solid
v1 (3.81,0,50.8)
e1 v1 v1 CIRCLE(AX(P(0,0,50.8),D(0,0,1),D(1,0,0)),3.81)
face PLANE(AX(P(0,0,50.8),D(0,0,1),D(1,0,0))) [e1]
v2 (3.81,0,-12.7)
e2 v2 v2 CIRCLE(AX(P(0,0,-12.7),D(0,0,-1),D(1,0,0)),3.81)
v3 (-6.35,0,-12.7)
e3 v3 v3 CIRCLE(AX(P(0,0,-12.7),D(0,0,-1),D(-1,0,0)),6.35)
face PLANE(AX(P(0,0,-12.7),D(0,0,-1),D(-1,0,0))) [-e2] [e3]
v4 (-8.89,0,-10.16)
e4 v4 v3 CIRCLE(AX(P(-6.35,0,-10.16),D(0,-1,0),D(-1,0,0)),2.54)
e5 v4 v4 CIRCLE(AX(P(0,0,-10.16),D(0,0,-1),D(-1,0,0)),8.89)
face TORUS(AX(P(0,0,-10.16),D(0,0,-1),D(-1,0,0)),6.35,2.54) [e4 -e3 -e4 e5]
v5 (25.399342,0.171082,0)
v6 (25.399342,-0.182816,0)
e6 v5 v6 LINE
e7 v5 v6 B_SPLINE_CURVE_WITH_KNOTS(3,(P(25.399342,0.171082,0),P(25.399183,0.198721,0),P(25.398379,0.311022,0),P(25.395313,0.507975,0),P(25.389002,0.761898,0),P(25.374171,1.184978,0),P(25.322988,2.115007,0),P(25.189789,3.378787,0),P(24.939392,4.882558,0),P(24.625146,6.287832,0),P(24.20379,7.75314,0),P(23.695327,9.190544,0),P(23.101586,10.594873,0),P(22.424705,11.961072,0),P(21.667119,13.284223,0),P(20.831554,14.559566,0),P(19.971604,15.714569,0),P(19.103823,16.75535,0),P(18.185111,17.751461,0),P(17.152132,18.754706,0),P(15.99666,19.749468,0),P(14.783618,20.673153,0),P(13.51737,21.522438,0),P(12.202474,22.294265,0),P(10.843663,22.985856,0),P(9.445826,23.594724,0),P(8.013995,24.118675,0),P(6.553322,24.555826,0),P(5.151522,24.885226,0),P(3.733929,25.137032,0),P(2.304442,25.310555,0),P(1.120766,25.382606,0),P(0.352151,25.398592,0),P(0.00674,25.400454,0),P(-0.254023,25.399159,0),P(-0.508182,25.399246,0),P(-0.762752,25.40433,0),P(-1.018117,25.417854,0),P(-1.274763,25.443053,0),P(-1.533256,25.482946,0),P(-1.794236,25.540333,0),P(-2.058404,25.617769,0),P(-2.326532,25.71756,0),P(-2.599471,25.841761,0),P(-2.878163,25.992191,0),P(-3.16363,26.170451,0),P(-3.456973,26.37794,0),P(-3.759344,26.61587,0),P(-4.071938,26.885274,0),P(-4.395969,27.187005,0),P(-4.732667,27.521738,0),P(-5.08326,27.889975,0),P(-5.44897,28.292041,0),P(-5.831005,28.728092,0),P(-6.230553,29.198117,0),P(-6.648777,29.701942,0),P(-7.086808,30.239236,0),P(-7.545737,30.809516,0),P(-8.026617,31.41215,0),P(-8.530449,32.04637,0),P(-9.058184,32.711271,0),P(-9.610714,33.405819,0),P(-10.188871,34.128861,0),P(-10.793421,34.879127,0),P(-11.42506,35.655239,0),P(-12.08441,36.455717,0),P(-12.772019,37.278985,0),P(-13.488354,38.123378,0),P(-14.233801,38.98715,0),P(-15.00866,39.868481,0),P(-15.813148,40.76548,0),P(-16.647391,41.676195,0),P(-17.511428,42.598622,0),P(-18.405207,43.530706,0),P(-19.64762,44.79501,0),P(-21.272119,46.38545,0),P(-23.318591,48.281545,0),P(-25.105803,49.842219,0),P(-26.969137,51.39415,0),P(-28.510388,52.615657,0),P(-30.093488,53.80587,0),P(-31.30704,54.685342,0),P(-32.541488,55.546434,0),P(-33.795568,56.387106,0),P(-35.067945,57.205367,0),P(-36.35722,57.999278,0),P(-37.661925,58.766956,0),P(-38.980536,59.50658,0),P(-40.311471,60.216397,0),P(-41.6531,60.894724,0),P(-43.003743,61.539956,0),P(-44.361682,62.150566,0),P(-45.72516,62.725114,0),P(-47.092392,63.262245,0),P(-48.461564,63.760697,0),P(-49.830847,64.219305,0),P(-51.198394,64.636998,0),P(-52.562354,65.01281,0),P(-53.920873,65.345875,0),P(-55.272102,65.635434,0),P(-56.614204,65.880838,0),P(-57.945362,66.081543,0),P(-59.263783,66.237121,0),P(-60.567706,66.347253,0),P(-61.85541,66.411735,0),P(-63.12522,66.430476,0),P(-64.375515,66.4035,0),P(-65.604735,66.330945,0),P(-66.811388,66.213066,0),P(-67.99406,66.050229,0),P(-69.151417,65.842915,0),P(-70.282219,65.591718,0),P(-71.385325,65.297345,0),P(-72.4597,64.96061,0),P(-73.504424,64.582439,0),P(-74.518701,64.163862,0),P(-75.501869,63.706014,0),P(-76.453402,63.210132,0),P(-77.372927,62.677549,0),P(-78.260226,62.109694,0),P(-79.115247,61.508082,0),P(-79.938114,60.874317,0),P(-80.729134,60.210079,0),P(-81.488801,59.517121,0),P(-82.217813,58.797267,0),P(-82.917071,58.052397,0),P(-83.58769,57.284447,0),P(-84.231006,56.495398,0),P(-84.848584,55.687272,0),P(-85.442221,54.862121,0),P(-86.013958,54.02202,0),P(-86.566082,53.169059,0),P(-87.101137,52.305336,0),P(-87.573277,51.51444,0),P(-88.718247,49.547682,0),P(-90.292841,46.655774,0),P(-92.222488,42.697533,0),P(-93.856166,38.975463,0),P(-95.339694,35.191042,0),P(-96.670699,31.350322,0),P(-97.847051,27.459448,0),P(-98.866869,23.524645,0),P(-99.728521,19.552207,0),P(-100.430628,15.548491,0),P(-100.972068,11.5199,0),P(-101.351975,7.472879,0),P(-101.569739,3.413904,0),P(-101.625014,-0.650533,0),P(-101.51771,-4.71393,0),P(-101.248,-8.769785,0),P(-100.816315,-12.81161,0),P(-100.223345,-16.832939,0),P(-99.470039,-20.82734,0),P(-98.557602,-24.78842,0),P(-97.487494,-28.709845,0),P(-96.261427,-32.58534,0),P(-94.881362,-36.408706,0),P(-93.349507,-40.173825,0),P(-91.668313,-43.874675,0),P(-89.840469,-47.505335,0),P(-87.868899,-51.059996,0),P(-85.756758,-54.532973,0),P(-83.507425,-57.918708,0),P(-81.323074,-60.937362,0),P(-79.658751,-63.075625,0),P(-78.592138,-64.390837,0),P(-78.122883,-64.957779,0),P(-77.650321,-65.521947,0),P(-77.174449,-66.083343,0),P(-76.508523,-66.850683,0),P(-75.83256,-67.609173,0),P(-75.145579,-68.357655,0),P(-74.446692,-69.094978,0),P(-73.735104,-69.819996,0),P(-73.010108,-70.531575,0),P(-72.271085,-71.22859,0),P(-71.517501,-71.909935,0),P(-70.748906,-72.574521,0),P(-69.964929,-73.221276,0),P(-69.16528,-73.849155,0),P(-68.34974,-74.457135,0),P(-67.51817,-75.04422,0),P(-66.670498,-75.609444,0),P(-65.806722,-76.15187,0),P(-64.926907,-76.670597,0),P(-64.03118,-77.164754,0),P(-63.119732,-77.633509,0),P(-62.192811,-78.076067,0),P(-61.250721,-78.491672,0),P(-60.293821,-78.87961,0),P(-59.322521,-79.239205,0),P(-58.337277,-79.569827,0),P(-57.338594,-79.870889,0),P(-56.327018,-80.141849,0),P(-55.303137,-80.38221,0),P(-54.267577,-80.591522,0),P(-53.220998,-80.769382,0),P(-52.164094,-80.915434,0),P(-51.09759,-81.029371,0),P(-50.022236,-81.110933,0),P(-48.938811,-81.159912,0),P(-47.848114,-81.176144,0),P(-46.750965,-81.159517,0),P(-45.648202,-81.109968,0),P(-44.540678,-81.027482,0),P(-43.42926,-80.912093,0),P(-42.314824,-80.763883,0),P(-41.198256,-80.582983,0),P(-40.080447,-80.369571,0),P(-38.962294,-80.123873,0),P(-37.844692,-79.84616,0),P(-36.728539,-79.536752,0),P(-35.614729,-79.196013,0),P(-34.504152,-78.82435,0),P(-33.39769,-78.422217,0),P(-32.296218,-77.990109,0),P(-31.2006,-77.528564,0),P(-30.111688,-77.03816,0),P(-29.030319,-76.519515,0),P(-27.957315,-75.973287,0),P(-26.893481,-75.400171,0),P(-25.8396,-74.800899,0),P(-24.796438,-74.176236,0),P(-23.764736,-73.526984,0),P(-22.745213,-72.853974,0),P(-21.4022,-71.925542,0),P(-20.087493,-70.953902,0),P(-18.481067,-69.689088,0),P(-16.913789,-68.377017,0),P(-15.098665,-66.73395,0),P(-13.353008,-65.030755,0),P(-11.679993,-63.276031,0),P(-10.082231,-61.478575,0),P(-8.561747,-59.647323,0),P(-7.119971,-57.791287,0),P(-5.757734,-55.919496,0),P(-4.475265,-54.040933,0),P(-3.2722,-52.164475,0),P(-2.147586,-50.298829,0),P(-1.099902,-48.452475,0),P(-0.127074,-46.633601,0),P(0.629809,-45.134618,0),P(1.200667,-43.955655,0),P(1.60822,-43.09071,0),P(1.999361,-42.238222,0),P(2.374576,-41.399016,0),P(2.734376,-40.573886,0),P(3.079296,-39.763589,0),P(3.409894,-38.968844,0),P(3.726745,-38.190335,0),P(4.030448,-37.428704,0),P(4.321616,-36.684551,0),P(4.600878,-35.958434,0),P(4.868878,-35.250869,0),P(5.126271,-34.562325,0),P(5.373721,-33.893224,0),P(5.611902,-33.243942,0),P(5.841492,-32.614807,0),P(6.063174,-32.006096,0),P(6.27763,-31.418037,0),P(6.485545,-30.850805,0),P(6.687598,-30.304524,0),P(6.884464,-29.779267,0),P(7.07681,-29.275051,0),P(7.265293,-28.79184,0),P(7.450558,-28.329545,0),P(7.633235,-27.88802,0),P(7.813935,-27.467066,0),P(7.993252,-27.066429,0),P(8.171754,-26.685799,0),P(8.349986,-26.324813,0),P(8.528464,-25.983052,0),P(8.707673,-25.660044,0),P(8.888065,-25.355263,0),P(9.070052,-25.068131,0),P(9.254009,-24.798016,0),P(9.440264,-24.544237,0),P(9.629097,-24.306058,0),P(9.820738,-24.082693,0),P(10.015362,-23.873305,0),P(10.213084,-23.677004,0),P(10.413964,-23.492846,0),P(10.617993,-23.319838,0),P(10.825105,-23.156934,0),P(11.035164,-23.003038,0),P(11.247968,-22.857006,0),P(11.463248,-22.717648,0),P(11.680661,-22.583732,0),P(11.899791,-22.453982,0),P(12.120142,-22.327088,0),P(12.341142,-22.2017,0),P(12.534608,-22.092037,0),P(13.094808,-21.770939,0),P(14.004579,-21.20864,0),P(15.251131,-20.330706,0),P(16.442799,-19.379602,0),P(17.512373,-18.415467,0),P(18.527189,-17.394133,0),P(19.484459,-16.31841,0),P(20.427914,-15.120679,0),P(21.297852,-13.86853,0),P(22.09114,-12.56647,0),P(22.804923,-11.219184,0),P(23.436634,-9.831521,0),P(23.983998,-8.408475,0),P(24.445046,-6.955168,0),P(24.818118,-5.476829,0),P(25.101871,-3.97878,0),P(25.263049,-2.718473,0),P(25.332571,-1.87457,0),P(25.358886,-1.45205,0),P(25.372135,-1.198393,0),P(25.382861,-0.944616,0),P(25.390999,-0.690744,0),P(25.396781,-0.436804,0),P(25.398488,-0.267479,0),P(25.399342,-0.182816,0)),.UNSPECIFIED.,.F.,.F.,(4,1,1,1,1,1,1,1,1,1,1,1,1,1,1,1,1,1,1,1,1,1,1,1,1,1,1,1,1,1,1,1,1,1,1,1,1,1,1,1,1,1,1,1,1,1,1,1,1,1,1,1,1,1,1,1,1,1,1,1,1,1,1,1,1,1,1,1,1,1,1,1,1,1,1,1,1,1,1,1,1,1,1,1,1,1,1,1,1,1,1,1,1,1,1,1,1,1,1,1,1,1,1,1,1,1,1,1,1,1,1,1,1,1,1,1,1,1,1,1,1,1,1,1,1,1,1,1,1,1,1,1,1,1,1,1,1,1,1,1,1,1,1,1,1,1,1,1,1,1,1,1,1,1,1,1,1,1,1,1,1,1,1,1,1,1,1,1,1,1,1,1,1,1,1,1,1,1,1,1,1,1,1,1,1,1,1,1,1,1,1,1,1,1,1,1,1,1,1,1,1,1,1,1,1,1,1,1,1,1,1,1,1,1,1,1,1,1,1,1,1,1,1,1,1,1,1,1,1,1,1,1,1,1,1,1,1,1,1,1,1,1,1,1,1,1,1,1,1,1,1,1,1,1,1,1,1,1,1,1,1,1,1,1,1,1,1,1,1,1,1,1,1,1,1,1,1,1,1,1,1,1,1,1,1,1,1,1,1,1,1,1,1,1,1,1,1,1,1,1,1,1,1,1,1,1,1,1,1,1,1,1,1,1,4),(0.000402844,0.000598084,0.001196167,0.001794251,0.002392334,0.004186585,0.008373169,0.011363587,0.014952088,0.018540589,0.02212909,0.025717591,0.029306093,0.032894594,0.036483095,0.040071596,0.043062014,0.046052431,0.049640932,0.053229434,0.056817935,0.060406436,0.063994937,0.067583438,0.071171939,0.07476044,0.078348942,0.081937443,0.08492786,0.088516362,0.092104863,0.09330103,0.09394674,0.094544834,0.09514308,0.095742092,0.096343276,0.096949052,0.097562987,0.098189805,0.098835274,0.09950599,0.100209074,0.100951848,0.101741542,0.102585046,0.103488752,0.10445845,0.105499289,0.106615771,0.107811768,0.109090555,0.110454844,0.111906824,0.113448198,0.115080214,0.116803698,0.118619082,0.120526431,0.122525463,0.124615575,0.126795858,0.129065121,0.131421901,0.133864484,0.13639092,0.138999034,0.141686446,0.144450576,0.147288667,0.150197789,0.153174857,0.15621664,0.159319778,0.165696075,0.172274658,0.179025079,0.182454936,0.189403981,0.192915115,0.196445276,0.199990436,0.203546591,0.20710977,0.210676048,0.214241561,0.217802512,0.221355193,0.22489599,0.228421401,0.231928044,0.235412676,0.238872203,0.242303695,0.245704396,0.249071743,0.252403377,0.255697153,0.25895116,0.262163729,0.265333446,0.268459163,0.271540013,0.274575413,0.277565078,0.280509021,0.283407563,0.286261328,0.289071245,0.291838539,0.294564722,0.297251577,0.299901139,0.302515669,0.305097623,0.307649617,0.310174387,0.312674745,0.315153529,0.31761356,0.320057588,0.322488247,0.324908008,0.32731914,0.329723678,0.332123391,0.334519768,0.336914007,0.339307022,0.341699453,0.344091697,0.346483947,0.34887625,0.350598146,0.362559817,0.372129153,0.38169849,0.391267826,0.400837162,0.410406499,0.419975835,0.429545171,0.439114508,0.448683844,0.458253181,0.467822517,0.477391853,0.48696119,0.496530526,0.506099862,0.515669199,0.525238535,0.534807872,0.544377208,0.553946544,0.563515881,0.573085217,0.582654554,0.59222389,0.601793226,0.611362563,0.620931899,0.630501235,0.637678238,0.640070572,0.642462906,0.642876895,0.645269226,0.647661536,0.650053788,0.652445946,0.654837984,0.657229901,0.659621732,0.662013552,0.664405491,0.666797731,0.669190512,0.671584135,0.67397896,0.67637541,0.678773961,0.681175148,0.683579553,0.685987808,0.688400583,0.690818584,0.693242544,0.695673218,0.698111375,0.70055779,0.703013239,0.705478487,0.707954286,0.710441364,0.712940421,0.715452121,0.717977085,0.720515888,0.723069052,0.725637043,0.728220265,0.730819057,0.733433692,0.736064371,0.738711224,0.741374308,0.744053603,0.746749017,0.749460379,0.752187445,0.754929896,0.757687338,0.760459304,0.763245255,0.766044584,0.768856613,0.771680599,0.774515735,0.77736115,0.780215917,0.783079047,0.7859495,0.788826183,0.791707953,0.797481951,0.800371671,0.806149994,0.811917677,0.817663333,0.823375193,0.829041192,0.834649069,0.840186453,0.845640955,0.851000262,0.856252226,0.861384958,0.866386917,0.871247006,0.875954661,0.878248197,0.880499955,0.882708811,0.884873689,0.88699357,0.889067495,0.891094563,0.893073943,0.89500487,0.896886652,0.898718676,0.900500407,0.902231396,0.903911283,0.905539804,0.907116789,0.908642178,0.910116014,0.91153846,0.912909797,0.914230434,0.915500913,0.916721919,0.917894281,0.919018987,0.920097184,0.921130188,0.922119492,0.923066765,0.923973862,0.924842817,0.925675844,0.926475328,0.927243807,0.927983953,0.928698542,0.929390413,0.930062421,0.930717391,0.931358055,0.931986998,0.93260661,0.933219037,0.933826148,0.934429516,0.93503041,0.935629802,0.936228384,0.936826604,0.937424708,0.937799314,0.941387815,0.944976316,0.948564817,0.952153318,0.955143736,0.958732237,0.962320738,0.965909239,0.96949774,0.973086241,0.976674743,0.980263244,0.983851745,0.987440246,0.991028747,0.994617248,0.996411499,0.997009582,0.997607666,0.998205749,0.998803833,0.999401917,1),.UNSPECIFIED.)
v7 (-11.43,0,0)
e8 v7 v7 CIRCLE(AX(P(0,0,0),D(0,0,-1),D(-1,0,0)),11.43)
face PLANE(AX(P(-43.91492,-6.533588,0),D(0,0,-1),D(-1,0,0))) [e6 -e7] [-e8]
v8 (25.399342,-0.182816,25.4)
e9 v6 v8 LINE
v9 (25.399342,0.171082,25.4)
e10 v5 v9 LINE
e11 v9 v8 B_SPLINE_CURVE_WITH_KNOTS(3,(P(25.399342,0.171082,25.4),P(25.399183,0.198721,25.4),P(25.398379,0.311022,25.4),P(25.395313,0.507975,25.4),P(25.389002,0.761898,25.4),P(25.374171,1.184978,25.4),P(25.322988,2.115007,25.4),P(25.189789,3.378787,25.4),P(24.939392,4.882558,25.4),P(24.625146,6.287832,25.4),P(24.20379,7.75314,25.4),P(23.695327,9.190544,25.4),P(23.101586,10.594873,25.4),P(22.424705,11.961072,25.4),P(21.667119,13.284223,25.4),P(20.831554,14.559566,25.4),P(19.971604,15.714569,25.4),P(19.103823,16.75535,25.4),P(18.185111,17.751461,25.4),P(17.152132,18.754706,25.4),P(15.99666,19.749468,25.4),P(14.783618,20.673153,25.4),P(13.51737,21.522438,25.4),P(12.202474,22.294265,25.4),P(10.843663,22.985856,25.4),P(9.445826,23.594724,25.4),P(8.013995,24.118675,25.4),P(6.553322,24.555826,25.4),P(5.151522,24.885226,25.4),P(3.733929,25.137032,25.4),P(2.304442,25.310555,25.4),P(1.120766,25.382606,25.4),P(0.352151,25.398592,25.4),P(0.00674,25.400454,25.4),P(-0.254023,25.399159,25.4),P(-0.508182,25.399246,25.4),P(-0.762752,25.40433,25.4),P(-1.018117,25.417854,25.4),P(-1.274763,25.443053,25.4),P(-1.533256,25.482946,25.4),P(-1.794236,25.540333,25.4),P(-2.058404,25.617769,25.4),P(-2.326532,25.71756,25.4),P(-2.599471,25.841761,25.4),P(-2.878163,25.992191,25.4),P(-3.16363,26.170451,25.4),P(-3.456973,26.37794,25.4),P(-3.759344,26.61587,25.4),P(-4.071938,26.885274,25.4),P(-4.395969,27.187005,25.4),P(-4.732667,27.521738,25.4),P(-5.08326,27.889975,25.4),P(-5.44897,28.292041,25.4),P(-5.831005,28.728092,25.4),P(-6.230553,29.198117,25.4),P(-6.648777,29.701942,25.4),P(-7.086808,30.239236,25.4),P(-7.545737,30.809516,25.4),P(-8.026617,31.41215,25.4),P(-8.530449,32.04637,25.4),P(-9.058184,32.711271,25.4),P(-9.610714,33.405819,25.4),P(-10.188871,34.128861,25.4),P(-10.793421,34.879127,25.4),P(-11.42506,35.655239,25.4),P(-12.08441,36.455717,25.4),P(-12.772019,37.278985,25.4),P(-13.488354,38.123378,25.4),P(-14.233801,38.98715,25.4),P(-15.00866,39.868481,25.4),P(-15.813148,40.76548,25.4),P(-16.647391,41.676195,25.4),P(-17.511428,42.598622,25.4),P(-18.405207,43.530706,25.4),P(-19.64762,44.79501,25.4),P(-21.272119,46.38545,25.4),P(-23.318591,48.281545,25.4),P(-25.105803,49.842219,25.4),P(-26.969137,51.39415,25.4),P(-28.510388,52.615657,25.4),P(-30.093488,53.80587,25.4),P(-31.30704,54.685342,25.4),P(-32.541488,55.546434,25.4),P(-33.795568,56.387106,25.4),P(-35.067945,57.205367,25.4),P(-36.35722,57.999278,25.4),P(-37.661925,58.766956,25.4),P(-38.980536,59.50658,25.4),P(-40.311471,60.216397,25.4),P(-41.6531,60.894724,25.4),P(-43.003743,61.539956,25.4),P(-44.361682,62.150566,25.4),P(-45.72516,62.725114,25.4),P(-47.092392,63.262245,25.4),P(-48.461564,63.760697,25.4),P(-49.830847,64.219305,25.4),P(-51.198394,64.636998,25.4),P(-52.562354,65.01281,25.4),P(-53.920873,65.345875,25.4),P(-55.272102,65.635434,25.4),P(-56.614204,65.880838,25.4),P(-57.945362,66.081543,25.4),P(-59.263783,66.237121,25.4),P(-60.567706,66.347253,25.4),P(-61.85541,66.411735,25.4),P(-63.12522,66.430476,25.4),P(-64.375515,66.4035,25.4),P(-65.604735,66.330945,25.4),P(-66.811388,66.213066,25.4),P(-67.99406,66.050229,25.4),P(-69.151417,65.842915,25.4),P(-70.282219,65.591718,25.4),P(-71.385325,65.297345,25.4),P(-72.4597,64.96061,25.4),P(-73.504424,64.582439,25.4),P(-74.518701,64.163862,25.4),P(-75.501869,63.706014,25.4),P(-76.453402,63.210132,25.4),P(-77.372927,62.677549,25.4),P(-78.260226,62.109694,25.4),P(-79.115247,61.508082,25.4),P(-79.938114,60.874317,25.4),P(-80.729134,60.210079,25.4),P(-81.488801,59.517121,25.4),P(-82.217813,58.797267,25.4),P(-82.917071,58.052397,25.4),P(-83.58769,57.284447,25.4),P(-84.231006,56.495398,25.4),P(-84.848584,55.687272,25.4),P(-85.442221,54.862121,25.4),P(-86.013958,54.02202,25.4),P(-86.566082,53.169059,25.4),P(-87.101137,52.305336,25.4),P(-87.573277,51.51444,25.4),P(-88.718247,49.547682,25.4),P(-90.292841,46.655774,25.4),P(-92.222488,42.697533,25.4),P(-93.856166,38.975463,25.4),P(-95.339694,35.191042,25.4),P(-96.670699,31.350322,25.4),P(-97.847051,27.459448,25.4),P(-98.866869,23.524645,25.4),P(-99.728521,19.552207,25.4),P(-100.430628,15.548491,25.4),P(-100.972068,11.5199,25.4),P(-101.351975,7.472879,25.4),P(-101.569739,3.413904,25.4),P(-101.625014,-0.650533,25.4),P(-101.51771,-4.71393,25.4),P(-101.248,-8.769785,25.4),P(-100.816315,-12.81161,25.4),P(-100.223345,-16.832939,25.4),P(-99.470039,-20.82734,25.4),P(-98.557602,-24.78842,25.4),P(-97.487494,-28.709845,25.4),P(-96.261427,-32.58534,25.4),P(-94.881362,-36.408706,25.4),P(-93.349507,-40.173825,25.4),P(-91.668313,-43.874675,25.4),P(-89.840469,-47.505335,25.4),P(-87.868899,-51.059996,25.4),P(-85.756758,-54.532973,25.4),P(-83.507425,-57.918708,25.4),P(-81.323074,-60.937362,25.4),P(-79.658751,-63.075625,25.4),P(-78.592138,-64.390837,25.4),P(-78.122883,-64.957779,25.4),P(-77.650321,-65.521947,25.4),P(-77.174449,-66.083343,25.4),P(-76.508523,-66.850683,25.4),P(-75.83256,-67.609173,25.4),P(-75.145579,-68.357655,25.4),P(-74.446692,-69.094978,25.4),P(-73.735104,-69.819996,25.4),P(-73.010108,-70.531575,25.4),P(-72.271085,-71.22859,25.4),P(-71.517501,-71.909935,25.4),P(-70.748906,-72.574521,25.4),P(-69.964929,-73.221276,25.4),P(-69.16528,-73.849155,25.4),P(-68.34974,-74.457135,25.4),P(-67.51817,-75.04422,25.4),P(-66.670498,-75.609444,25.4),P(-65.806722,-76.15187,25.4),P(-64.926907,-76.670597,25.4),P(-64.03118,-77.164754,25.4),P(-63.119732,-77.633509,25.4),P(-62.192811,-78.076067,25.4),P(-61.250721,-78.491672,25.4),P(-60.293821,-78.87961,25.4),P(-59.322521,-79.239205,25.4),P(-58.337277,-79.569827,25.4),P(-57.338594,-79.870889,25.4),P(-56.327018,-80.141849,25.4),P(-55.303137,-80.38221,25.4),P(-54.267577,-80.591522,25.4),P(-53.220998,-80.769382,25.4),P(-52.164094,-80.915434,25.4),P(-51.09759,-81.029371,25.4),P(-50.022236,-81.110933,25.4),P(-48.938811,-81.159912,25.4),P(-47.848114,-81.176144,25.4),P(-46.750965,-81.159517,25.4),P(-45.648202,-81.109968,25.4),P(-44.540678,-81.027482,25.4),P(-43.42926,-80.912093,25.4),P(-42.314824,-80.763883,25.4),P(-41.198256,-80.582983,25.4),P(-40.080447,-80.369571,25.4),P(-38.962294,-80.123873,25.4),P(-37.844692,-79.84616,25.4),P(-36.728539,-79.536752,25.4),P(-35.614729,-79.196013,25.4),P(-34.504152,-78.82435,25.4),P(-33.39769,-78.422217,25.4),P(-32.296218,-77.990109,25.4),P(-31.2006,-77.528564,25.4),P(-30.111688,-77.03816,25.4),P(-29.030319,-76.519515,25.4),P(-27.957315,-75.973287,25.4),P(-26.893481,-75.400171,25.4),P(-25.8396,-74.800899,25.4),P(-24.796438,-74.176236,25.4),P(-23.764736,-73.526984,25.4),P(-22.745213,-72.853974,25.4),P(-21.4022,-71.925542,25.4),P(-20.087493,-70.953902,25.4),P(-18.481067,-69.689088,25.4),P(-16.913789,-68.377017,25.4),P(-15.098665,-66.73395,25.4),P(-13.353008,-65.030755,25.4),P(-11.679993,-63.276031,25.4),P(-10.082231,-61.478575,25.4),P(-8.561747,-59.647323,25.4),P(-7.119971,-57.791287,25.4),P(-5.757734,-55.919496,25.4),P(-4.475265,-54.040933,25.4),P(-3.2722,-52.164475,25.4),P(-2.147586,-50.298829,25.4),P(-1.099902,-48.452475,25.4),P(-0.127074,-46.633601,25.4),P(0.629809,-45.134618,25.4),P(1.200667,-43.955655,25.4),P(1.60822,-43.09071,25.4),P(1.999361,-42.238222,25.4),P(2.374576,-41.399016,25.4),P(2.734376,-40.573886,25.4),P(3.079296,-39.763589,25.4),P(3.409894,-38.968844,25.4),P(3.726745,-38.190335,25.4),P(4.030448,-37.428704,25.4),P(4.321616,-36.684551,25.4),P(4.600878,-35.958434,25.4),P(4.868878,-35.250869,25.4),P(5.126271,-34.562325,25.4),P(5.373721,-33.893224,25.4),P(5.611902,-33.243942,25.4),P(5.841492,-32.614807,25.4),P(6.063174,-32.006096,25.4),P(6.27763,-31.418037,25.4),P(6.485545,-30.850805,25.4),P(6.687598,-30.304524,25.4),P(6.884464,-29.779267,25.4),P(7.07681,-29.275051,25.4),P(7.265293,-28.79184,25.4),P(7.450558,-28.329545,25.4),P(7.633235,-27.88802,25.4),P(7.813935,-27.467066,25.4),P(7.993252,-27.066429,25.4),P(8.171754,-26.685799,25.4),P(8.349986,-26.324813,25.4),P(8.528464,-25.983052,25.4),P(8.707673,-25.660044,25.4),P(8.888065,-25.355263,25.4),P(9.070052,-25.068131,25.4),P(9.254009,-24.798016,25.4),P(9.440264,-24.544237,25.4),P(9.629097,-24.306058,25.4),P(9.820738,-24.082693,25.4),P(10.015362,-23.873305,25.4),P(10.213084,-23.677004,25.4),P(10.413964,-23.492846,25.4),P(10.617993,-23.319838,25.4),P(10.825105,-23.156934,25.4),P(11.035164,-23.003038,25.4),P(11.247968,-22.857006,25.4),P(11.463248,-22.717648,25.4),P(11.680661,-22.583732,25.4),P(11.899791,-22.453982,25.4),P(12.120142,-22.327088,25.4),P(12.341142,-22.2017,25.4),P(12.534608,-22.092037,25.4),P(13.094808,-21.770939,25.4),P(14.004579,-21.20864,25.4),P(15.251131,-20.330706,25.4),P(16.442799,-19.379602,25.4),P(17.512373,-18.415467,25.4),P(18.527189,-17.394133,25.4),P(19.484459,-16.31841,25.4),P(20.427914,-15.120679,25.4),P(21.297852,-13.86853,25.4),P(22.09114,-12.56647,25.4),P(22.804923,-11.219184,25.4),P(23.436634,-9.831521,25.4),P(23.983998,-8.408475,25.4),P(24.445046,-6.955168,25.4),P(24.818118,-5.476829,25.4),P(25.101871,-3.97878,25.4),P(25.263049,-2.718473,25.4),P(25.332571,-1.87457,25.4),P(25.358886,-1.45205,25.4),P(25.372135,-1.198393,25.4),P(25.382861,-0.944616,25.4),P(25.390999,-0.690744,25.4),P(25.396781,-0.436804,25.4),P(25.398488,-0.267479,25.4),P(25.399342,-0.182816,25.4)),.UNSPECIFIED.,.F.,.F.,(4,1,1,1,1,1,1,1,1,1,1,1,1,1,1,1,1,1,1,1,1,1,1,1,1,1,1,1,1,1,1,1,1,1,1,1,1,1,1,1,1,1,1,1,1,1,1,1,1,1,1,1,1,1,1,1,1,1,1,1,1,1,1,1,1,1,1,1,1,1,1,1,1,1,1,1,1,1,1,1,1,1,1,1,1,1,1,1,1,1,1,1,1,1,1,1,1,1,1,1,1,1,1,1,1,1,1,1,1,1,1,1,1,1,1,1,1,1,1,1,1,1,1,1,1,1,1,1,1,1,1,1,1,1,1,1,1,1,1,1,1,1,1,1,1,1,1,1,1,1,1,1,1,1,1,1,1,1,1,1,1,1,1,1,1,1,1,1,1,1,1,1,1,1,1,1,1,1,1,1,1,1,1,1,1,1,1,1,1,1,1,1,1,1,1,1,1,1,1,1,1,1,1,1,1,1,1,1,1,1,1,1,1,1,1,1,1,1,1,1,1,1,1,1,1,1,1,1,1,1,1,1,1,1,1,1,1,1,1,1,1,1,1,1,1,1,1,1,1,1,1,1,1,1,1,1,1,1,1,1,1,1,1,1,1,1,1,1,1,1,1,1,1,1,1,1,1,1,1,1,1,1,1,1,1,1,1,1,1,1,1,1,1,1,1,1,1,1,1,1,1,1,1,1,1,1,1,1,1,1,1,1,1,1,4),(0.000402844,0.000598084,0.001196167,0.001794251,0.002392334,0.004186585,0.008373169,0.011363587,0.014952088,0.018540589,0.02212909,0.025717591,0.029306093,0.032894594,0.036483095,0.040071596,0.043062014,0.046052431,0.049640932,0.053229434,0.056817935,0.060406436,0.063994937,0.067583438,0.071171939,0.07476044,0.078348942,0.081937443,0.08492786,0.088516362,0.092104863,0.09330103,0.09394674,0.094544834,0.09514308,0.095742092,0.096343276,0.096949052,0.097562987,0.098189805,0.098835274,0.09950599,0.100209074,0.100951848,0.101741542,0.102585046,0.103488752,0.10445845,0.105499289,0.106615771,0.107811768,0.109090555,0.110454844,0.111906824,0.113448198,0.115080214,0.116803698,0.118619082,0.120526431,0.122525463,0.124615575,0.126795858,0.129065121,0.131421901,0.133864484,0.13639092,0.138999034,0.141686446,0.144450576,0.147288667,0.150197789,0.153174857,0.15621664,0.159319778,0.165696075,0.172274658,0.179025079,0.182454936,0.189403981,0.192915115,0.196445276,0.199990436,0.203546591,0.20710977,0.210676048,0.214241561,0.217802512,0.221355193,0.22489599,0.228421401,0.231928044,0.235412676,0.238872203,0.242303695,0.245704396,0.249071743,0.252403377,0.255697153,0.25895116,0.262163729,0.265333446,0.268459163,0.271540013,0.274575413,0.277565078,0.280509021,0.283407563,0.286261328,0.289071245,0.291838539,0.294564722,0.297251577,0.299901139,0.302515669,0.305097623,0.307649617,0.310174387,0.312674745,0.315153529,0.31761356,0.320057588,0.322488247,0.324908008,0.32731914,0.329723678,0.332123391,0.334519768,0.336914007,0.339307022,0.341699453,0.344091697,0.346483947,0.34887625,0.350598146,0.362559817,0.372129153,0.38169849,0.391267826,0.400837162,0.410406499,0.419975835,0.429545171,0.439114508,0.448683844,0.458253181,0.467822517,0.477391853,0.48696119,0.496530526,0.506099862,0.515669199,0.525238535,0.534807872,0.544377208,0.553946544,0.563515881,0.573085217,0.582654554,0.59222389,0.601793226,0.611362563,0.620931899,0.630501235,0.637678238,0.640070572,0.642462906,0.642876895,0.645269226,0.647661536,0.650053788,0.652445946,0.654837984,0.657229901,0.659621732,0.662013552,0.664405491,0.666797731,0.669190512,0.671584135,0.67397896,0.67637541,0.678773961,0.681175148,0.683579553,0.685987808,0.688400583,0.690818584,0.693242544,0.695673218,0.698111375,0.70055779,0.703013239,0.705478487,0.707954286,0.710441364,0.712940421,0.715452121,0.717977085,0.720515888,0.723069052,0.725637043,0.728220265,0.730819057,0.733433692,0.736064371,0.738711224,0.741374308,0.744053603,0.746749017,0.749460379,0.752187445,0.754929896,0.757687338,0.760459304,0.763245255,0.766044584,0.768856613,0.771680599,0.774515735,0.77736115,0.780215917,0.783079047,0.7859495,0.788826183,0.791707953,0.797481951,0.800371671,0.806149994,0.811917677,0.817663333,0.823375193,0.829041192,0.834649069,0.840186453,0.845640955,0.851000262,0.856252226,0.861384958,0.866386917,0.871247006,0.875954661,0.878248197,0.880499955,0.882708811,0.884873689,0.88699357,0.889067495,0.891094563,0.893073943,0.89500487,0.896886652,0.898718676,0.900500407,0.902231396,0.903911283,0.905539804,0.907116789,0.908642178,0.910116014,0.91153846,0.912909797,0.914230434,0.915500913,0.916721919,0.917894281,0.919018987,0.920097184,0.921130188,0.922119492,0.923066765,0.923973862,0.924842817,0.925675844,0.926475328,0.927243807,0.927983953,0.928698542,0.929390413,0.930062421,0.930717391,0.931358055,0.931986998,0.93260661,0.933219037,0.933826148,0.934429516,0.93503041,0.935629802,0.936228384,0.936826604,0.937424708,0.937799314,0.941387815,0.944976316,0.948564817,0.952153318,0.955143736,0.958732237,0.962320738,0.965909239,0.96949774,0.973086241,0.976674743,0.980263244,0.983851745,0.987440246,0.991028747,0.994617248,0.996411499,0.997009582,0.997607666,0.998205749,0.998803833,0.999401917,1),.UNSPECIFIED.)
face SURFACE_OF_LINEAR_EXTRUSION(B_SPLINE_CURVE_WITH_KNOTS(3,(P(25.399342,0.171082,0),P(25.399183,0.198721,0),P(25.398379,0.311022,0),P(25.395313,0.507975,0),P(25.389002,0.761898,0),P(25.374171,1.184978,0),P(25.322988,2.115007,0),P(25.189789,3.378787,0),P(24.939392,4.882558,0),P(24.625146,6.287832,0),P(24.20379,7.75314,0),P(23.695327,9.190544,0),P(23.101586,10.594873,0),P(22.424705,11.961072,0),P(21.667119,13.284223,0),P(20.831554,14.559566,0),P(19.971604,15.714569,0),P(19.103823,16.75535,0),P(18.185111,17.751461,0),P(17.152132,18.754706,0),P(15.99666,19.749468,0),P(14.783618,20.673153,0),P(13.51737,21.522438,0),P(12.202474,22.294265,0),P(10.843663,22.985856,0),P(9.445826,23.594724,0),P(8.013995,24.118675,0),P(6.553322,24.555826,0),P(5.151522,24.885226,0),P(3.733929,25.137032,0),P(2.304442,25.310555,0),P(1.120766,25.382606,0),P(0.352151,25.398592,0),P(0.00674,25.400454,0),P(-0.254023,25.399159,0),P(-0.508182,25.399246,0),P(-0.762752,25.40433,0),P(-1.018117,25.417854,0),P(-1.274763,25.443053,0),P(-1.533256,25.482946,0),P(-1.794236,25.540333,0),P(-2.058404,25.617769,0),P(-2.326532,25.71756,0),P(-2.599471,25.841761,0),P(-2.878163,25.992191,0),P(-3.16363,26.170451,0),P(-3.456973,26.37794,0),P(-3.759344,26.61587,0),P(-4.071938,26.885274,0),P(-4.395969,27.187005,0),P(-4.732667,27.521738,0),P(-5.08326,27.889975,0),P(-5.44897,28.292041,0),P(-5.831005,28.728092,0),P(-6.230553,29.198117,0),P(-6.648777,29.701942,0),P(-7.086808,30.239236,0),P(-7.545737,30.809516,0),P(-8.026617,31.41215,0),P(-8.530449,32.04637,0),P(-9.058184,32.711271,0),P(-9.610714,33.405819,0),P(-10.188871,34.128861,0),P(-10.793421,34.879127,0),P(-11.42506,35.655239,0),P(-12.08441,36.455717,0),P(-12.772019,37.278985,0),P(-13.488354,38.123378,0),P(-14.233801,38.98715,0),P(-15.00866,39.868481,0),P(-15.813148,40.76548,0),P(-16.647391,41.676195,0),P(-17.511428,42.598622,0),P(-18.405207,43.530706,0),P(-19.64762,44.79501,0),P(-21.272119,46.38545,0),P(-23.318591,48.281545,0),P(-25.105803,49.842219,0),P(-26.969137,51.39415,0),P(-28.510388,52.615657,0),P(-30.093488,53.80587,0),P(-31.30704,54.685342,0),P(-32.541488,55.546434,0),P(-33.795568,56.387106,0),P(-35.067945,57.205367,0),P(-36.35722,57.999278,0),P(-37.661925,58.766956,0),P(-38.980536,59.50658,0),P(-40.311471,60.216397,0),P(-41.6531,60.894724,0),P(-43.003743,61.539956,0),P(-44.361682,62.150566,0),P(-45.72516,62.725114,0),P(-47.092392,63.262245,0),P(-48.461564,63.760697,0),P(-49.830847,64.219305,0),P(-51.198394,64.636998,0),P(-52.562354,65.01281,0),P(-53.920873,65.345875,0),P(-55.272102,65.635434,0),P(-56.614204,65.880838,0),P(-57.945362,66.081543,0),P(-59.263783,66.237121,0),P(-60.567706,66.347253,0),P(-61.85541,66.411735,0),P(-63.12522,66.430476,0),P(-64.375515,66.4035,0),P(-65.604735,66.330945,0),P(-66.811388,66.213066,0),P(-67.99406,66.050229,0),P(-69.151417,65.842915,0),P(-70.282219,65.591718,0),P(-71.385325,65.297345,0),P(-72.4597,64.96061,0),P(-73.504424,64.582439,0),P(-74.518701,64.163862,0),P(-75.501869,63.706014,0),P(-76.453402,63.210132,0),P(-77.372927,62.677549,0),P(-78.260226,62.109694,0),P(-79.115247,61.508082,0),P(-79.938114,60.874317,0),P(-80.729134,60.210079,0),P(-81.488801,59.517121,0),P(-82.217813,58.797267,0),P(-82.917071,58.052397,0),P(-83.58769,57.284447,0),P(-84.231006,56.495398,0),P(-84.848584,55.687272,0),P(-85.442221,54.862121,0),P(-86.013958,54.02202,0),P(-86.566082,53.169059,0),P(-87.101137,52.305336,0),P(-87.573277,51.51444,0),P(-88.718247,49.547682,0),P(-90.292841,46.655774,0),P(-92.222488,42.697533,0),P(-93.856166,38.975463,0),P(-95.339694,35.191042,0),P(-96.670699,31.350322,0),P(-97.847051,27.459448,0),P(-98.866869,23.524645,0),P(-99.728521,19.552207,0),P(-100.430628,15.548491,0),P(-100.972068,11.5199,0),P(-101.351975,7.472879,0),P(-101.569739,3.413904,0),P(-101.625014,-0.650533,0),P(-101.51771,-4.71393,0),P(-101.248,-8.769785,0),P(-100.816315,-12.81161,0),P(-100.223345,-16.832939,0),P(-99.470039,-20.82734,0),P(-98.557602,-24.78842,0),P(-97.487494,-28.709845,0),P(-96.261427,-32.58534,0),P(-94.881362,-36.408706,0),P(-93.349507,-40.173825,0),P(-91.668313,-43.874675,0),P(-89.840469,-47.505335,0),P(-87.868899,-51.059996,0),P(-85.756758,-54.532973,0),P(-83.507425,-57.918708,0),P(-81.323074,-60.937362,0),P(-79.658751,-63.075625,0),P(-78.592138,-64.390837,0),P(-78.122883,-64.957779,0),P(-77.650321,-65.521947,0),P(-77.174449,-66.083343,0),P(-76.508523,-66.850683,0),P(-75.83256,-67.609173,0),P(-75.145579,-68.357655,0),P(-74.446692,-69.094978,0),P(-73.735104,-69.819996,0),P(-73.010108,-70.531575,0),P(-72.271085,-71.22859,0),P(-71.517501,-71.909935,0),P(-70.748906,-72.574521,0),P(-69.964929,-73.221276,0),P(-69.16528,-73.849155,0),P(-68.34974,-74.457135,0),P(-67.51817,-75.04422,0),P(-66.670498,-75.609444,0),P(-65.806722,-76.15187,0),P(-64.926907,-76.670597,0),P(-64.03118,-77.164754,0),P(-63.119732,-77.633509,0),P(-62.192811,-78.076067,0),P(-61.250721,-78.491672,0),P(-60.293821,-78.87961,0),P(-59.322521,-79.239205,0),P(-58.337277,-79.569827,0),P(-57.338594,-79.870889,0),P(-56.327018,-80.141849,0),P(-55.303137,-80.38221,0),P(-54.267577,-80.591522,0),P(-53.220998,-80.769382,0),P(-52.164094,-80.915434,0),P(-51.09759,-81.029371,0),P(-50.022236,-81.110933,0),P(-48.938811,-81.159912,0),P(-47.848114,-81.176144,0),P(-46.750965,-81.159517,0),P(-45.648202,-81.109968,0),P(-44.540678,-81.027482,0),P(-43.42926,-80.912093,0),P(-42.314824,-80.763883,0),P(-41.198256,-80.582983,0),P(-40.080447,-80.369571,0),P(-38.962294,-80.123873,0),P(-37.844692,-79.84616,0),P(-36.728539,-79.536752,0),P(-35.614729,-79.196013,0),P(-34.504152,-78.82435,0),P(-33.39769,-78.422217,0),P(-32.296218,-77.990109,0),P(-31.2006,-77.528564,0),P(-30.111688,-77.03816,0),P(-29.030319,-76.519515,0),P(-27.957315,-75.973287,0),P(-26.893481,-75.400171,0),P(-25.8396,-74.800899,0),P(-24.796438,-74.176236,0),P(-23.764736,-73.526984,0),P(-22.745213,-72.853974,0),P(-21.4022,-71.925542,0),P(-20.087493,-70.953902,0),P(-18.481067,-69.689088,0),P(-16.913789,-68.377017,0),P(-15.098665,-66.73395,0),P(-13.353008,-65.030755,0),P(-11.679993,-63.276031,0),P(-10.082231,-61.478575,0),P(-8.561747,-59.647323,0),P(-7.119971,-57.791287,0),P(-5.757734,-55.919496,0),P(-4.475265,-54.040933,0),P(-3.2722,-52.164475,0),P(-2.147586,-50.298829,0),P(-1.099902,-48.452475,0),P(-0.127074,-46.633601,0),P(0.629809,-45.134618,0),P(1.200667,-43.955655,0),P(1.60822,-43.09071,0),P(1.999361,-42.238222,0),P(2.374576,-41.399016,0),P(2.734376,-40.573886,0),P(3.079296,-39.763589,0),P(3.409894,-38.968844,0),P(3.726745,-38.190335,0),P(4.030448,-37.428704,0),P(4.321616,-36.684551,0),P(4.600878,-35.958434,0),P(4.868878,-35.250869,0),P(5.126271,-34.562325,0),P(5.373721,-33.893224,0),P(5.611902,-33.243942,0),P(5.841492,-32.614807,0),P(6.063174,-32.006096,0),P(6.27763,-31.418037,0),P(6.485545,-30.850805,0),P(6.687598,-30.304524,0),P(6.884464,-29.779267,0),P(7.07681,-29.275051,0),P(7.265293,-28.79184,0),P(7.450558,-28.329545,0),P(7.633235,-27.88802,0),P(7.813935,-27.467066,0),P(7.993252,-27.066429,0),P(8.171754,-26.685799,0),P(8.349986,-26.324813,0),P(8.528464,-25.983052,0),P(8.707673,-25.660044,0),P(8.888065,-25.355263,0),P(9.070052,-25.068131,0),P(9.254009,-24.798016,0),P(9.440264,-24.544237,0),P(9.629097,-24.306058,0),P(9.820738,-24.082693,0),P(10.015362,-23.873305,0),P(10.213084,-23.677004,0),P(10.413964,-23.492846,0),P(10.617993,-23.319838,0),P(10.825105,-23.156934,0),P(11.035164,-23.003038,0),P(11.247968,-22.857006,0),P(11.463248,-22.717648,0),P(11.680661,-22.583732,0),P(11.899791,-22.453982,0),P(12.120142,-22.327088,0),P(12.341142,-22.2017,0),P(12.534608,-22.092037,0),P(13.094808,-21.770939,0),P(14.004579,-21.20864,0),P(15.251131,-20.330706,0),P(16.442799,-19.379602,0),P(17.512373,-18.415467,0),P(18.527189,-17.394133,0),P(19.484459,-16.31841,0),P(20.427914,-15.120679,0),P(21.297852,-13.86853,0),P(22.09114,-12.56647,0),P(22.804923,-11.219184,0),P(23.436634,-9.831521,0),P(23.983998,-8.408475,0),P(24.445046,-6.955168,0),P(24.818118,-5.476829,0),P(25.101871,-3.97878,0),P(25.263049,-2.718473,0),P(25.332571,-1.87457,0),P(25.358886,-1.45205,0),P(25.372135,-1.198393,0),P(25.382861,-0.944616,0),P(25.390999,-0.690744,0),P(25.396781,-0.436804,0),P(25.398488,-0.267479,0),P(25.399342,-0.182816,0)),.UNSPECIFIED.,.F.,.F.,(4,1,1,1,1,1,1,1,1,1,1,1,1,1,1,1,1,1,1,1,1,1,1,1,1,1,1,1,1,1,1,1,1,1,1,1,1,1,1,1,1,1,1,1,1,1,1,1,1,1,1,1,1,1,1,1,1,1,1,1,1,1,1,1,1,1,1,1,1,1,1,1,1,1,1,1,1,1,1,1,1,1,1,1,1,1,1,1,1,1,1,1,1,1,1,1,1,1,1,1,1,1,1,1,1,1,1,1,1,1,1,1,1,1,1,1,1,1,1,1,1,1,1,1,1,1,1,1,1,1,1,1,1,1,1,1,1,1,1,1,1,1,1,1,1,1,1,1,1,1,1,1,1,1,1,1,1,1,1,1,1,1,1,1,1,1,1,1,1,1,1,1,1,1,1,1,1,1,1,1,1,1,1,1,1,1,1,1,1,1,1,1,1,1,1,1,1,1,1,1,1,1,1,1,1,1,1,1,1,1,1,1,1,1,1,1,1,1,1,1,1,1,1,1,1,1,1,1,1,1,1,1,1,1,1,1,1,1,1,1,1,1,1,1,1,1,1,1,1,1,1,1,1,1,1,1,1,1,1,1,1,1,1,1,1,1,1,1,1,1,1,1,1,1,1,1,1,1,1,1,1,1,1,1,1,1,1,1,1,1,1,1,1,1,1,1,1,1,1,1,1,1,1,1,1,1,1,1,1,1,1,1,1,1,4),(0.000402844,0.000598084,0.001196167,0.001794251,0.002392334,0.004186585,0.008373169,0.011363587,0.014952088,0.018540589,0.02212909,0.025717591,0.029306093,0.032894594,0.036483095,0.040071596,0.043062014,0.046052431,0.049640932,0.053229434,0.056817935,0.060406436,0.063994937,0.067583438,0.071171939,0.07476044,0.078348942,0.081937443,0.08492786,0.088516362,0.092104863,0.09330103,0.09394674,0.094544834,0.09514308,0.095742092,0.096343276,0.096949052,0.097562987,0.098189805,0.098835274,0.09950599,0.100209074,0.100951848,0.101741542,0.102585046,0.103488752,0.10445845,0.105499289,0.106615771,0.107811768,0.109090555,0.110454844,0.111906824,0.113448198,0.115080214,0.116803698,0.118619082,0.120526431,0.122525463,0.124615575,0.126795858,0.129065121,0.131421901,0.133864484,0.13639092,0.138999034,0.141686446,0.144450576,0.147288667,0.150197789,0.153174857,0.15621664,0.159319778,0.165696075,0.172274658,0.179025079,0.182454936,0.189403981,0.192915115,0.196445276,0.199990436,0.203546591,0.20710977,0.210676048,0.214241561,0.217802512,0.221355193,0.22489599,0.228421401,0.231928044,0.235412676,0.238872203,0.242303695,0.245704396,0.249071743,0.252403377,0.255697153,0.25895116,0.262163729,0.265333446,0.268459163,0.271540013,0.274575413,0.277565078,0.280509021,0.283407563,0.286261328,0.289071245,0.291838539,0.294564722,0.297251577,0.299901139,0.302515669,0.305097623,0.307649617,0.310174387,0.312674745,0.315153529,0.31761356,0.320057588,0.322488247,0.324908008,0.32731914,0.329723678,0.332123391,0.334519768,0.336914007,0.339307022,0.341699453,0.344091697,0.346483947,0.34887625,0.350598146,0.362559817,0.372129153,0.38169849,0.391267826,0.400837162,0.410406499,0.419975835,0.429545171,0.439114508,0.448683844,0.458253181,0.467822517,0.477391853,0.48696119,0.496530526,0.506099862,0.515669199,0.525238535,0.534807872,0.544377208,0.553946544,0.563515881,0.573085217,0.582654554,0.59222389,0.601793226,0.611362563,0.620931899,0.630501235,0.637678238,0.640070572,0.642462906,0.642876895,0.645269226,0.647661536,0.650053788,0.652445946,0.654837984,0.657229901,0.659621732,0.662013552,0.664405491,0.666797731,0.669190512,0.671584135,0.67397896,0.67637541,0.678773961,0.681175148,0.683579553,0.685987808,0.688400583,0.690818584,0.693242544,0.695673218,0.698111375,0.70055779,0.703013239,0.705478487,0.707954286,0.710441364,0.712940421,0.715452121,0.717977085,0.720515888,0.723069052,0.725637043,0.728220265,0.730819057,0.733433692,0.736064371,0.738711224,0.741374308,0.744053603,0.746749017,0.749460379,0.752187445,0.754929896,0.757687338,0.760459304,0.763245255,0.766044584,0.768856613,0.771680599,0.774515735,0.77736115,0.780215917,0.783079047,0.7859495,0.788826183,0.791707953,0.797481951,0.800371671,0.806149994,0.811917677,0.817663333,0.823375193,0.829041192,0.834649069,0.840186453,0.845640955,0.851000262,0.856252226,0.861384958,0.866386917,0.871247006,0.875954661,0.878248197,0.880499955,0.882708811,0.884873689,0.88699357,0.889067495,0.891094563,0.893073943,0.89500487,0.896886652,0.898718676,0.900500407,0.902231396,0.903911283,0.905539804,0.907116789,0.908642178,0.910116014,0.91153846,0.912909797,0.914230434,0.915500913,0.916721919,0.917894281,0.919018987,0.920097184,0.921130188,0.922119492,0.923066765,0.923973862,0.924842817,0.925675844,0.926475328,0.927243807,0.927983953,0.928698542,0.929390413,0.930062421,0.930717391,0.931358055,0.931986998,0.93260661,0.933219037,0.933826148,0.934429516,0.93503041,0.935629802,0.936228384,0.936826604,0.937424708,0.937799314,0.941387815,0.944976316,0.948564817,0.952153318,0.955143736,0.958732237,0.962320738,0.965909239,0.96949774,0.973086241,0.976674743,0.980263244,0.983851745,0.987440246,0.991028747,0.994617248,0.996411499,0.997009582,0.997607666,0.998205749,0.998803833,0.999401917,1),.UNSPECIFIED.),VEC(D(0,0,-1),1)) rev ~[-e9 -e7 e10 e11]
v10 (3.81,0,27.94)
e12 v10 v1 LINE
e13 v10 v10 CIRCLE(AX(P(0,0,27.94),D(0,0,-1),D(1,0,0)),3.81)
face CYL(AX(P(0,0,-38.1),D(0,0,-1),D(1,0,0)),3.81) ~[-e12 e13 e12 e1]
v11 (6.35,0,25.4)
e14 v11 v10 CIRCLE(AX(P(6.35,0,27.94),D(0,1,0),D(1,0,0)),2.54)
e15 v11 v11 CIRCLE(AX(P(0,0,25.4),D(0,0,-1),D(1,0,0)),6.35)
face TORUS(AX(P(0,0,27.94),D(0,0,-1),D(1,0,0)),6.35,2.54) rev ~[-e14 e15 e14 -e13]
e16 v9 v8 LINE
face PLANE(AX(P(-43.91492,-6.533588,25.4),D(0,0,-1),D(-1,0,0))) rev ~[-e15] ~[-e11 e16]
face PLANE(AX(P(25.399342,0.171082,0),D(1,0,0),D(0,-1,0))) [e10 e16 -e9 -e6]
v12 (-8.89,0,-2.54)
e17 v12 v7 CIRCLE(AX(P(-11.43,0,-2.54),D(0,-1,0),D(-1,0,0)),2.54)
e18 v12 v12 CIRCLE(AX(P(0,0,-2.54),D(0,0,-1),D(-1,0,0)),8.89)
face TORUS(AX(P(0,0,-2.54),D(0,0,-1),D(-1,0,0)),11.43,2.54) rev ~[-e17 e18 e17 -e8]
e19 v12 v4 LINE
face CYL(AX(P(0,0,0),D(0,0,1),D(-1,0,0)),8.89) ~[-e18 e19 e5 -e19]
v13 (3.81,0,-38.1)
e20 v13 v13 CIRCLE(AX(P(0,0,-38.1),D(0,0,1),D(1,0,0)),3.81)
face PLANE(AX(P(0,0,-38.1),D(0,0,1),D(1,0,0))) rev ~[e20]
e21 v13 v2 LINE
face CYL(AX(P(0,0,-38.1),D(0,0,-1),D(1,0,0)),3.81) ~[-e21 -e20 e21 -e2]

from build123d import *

# Parameters (mm, degrees)
BOSS_EXTRUDE1_DEPTH      = 25.4
BOSS_EXTRUDE2_DEPTH      = 25.4
BOSS_EXTRUDE2_DEPTH_BACK = 63.5
SKETCH2_R                = 3.81
SKETCH3_R                = 8.89
BOSS_EXTRUDE3_DEPTH      = 12.7
FILLET1_R                = 2.54
FILLET2_R                = 2.54
FILLET3_R                = 2.54


with BuildPart() as part:
    # Sketch1 → Boss-Extrude1 (new body)
    with BuildSketch(Plane.XY):
        with BuildLine():
            Line((25.399342089, 0.171082451), (25.399342089, -0.182816221))
            add(Edge.make_bspline(
                [(25.399342089, 0.171082451), (25.399182809, 0.198720573), (25.398379058, 0.311022212), (25.395313045, 0.507974599), (25.389002148, 0.761898402), (25.374171141, 1.184977755), (25.322987895, 2.115007416), (25.189788752, 3.378786707), (24.939391586, 4.882557766), (24.625145682, 6.28783201), (24.203789823, 7.75313954), (23.695326898, 9.190544355), (23.10158621, 10.594873055), (22.424704749, 11.96107165), (21.667118633, 13.284223335), (20.8315542, 14.559566107), (19.971604117, 15.714568922), (19.103823266, 16.755350159), (18.185110807, 17.751460759), (17.152132188, 18.75470584), (15.996660158, 19.749467936), (14.783617596, 20.673153386), (13.517369959, 21.522437818), (12.202474363, 22.29426464), (10.843663087, 22.985856286), (9.445826317, 23.594723662), (8.01399474, 24.118675402), (6.553321529, 24.555826254), (5.151522116, 24.885225825), (3.733929235, 25.13703166), (2.304441584, 25.310555052), (1.12076568, 25.382606447), (0.352151463, 25.398592348), (0.006739845, 25.400453922), (-0.254022616, 25.399159402), (-0.50818232, 25.39924592), (-0.762752478, 25.404330265), (-1.018117329, 25.417854394), (-1.274762502, 25.443052502), (-1.533256302, 25.482946367), (-1.794236222, 25.54033291), (-2.058404138, 25.617768751), (-2.326531794, 25.717559623), (-2.599471378, 25.841761094), (-2.878162638, 25.992191445), (-3.163630427, 26.170450919), (-3.456972847, 26.377939718), (-3.759344221, 26.61587039), (-4.071937622, 26.885274371), (-4.395969427, 27.187004967), (-4.732667282, 27.521738237), (-5.083259981, 27.889974596), (-5.448969679, 28.292040517), (-5.831004623, 28.728091792), (-6.230553168, 29.198116984), (-6.648777392, 29.701942324), (-7.086807828, 30.239236313), (-7.545737465, 30.809515602), (-8.026616899, 31.412150279), (-8.530448824, 32.046370168), (-9.058183531, 32.71127061), (-9.610713906, 33.405819034), (-10.188871276, 34.12886113), (-10.793421291, 34.879127334), (-11.425059997, 35.655239444), (-12.084410439, 36.455717141), (-12.772019348, 37.278984747), (-13.48835417, 38.123377948), (-14.233800566, 38.987150453), (-15.008659976, 39.868480899), (-15.8131477, 40.765479561), (-16.647391095, 41.676195268), (-17.511428311, 42.598622088), (-18.405207031, 43.530706291), (-19.647619539, 44.795009988), (-21.272119088, 46.385450309), (-23.318591247, 48.281544641), (-25.105802893, 49.842219083), (-26.969137219, 51.394150136), (-28.510388349, 52.615656853), (-30.093488435, 53.805869756), (-31.307040444, 54.685342189), (-32.541487889, 55.546433537), (-33.795567611, 56.387105734), (-35.06794546, 57.20536717), (-36.357219693, 57.999278143), (-37.661924848, 58.766955936), (-38.980535582, 59.506580045), (-40.311471134, 60.216396756), (-41.653099665, 60.894724013), (-43.003743067, 61.539955709), (-44.361681822, 62.15056607), (-45.725160216, 62.725113505), (-47.092391679, 63.262244565), (-48.461564391, 63.760697264), (-49.830846927, 64.219304871), (-51.198394364, 64.636998364), (-52.562354211, 65.012809877), (-53.92087282, 65.3458748), (-55.272101733, 65.635434412), (-56.614204297, 65.880837733), (-57.945362368, 66.081543401), (-59.26378312, 66.237121214), (-60.567706008, 66.347253248), (-61.855409792, 66.41173499), (-63.125219711, 66.430475833), (-64.375514709, 66.403499791), (-65.604734773, 66.330945424), (-66.811388322, 66.213065928), (-67.994059739, 66.050228685), (-69.151416983, 65.842914903), (-70.282219278, 65.591718386), (-71.385324992, 65.297344814), (-72.459699565, 64.960610064), (-73.504423696, 64.582438748), (-74.518701467, 64.163861681), (-75.501868934, 63.70601406), (-76.453402387, 63.210131908), (-77.372927072, 62.677549125), (-78.260225746, 62.109693502), (-79.11524708, 61.508082102), (-79.938114383, 60.87431685), (-80.729133537, 60.210078529), (-81.488801358, 59.517121468), (-82.217813299, 58.797267011), (-82.917071057, 58.052397008), (-83.58768996, 57.284446858), (-84.231006159, 56.495398406), (-84.848583579, 55.687272451), (-85.442220756, 54.862121068), (-86.013957639, 54.022019736), (-86.566082247, 53.169058878), (-87.101137296, 52.305336232), (-87.573277087, 51.514440111), (-88.718247292, 49.54768194), (-90.292840679, 46.655774267), (-92.222487955, 42.697533327), (-93.856166163, 38.975463451), (-95.339693899, 35.1910418), (-96.67069868, 31.350321782), (-97.847050898, 27.459448008), (-98.866868797, 23.524644965), (-99.728520696, 19.552207488), (-100.430628315, 15.548490675), (-100.972068318, 11.519899578), (-101.351974512, 7.472879105), (-101.569739229, 3.413903617), (-101.625013963, -0.650533381), (-101.517710406, -4.713929668), (-101.24800027, -8.769784679), (-100.816314721, -12.811609895), (-100.223344704, -16.832939279), (-99.470038678, -20.82733955), (-98.557601691, -24.78842049), (-97.487493804, -28.709845299), (-96.261426591, -32.585340455), (-94.881361691, -36.408706026), (-93.349506671, -40.17382537), (-91.668312655, -43.874675286), (-89.840468608, -47.505334954), (-87.868899194, -51.05999633), (-85.756758133, -54.532972514), (-83.507424649, -57.918707637), (-81.323074346, -60.937361995), (-79.658750682, -63.075625178), (-78.592138132, -64.390837281), (-78.122883431, -64.957778934), (-77.650321468, -65.521947234), (-77.174448617, -66.083342603), (-76.508523154, -66.850682574), (-75.832560015, -67.609172507), (-75.145578888, -68.357655083), (-74.446692039, -69.094978116), (-73.735103725, -69.819996385), (-73.010107571, -70.531574604), (-72.271084613, -71.228590068), (-71.517501051, -71.909935302), (-70.748906072, -72.57452058), (-69.964929466, -73.221276238), (-69.165279543, -73.849155251), (-68.349740482, -74.457135057), (-67.518170334, -75.044220234), (-66.670498259, -75.609443984), (-65.806722328, -76.151870486), (-64.926906984, -76.670596606), (-64.03118045, -77.164753516), (-63.119732376, -77.633508639), (-62.192811135, -78.07606687), (-61.250721413, -78.491672378), (-60.293821483, -78.879609634), (-59.322520702, -79.239204866), (-58.337276847, -79.569827075), (-57.338593586, -79.87088922), (-56.327017782, -80.141849059), (-55.303136938, -80.38221002), (-54.267576561, -80.591521886), (-53.220997623, -80.769381647), (-52.164093917, -80.915433736), (-51.097589517, -81.02937063), (-50.022236274, -81.110933386), (-48.93881124, -81.159911601), (-47.848114193, -81.176143666), (-46.750965175, -81.15951711), (-45.648202055, -81.109968203), (-44.540678111, -81.02748225), (-43.429259671, -80.912093104), (-42.314823744, -80.763883159), (-41.198255729, -80.582983069), (-40.080447174, -80.369571009), (-38.962293508, -80.123872646), (-37.844691875, -79.846160311), (-36.728539011, -79.536752396), (-35.614729067, -79.196012911), (-34.504151657, -78.824350448), (-33.397689828, -78.422217418), (-32.296217998, -77.990109435), (-31.200600169, -77.528563981), (-30.111688057, -77.038159588), (-29.030319226, -76.519514798), (-27.957315363, -75.973287043), (-26.893480675, -75.400171198), (-25.839600109, -74.800898726), (-24.796437906, -74.176236085), (-23.764736021, -73.526983511), (-22.745212715, -72.853973583), (-21.402200392, -71.925541625), (-20.087493038, -70.953902452), (-18.481066979, -69.689087833), (-16.913788664, -68.37701667), (-15.098665416, -66.73394997), (-13.353007609, -65.030754584), (-11.679993226, -63.276030584), (-10.082231404, -61.47857518), (-8.561747269, -59.647323296), (-7.119971272, -57.791287391), (-5.757733891, -55.919496177), (-4.475265218, -54.040933106), (-3.272199781, -52.16447464), (-2.147586238, -50.298828855), (-1.099902179, -48.452474574), (-0.127074398, -46.633601035), (0.629808797, -45.134617771), (1.200666707, -43.955654688), (1.608219734, -43.090710371), (1.999360796, -42.238222084), (2.374575982, -41.399016435), (2.734376314, -40.573886163), (3.079296482, -39.763588611), (3.409893617, -38.968844317), (3.72674519, -38.190335266), (4.030447901, -37.428703695), (4.321615676, -36.684550542), (4.600877966, -35.958434167), (4.868878011, -35.250869038), (5.126270861, -34.562324531), (5.373721354, -33.893223655), (5.611902374, -33.243942089), (5.841492427, -32.614806956), (6.063173798, -32.006095983), (6.277630272, -31.418036506), (6.485544871, -30.8508046), (6.687597703, -30.304524354), (6.884463616, -29.779267165), (7.076809585, -29.275051034), (7.26529286, -28.791840235), (7.450558006, -28.329544681), (7.633234661, -27.888019692), (7.813935142, -27.467065823), (7.993251604, -27.066428657), (8.171753691, -26.685798976), (8.349985648, -26.324812816), (8.528463706, -25.983051885), (8.707672951, -25.660043848), (8.888064553, -25.355263048), (9.070052234, -25.068130891), (9.254008991, -24.798016453), (9.440263607, -24.544237003), (9.629096782, -24.306058016), (9.820737893, -24.082693446), (10.015361523, -23.873305392), (10.213084455, -23.67700372), (10.413963541, -23.492846206), (10.617993401, -23.319838343), (10.825104959, -23.15693432), (11.035163826, -23.003038297), (11.247968499, -22.857006225), (11.463248426, -22.717648389), (11.680661334, -22.583731585), (11.899790654, -22.453982057), (12.120142326, -22.327087556), (12.341141519, -22.201699772), (12.534607912, -22.092036672), (13.094808441, -21.770938964), (14.004578939, -21.208639665), (15.251131467, -20.330705921), (16.44279895, -19.379602316), (17.512372921, -18.415467286), (18.527189078, -17.394132773), (19.484458946, -16.318409941), (20.427914259, -15.12067896), (21.297851664, -13.868530468), (22.091139631, -12.566470034), (22.804923471, -11.219183978), (23.436634087, -9.831520892), (23.983998246, -8.408475005), (24.445045723, -6.955167628), (24.8181176, -5.476829221), (25.101871023, -3.978780121), (25.263049234, -2.718473118), (25.332570842, -1.874570004), (25.358885752, -1.452049974), (25.372135284, -1.198392727), (25.382860776, -0.944615733), (25.390999067, -0.690743925), (25.396780711, -0.436804358), (25.398488297, -0.267478931), (25.399342089, -0.182816221)],
                knots=[0.000402844, 0.000402844, 0.000402844, 0.000402844, 0.000598084, 0.001196167, 0.001794251, 0.002392334, 0.004186585, 0.008373169, 0.011363587, 0.014952088, 0.018540589, 0.02212909, 0.025717591, 0.029306093, 0.032894594, 0.036483095, 0.040071596, 0.043062014, 0.046052431, 0.049640932, 0.053229434, 0.056817935, 0.060406436, 0.063994937, 0.067583438, 0.071171939, 0.07476044, 0.078348942, 0.081937443, 0.08492786, 0.088516362, 0.092104863, 0.09330103, 0.09394674, 0.094544834, 0.09514308, 0.095742092, 0.096343276, 0.096949052, 0.097562987, 0.098189805, 0.098835274, 0.09950599, 0.100209074, 0.100951848, 0.101741542, 0.102585046, 0.103488752, 0.10445845, 0.105499289, 0.106615771, 0.107811768, 0.109090555, 0.110454844, 0.111906824, 0.113448198, 0.115080214, 0.116803698, 0.118619082, 0.120526431, 0.122525463, 0.124615575, 0.126795858, 0.129065121, 0.131421901, 0.133864484, 0.13639092, 0.138999034, 0.141686446, 0.144450576, 0.147288667, 0.150197789, 0.153174857, 0.15621664, 0.159319778, 0.165696075, 0.172274658, 0.179025079, 0.182454936, 0.189403981, 0.192915115, 0.196445276, 0.199990436, 0.203546591, 0.20710977, 0.210676048, 0.214241561, 0.217802512, 0.221355193, 0.22489599, 0.228421401, 0.231928044, 0.235412676, 0.238872203, 0.242303695, 0.245704396, 0.249071743, 0.252403377, 0.255697153, 0.25895116, 0.262163729, 0.265333446, 0.268459163, 0.271540013, 0.274575413, 0.277565078, 0.280509021, 0.283407563, 0.286261328, 0.289071245, 0.291838539, 0.294564722, 0.297251577, 0.299901139, 0.302515669, 0.305097623, 0.307649617, 0.310174387, 0.312674745, 0.315153529, 0.31761356, 0.320057588, 0.322488247, 0.324908008, 0.32731914, 0.329723678, 0.332123391, 0.334519768, 0.336914007, 0.339307022, 0.341699453, 0.344091697, 0.346483947, 0.34887625, 0.350598146, 0.362559817, 0.372129153, 0.38169849, 0.391267826, 0.400837162, 0.410406499, 0.419975835, 0.429545171, 0.439114508, 0.448683844, 0.458253181, 0.467822517, 0.477391853, 0.48696119, 0.496530526, 0.506099862, 0.515669199, 0.525238535, 0.534807872, 0.544377208, 0.553946544, 0.563515881, 0.573085217, 0.582654554, 0.59222389, 0.601793226, 0.611362563, 0.620931899, 0.630501235, 0.637678238, 0.640070572, 0.642462906, 0.642876895, 0.645269226, 0.647661536, 0.650053788, 0.652445946, 0.654837984, 0.657229901, 0.659621732, 0.662013552, 0.664405491, 0.666797731, 0.669190512, 0.671584135, 0.67397896, 0.67637541, 0.678773961, 0.681175148, 0.683579553, 0.685987808, 0.688400583, 0.690818584, 0.693242544, 0.695673218, 0.698111375, 0.70055779, 0.703013239, 0.705478487, 0.707954286, 0.710441364, 0.712940421, 0.715452121, 0.717977085, 0.720515888, 0.723069052, 0.725637043, 0.728220265, 0.730819057, 0.733433692, 0.736064371, 0.738711224, 0.741374308, 0.744053603, 0.746749017, 0.749460379, 0.752187445, 0.754929896, 0.757687338, 0.760459304, 0.763245255, 0.766044584, 0.768856613, 0.771680599, 0.774515735, 0.77736115, 0.780215917, 0.783079047, 0.7859495, 0.788826183, 0.791707953, 0.797481951, 0.800371671, 0.806149994, 0.811917677, 0.817663333, 0.823375193, 0.829041192, 0.834649069, 0.840186453, 0.845640955, 0.851000262, 0.856252226, 0.861384958, 0.866386917, 0.871247006, 0.875954661, 0.878248197, 0.880499955, 0.882708811, 0.884873689, 0.88699357, 0.889067495, 0.891094563, 0.893073943, 0.89500487, 0.896886652, 0.898718676, 0.900500407, 0.902231396, 0.903911283, 0.905539804, 0.907116789, 0.908642178, 0.910116014, 0.91153846, 0.912909797, 0.914230434, 0.915500913, 0.916721919, 0.917894281, 0.919018987, 0.920097184, 0.921130188, 0.922119492, 0.923066765, 0.923973862, 0.924842817, 0.925675844, 0.926475328, 0.927243807, 0.927983953, 0.928698542, 0.929390413, 0.930062421, 0.930717391, 0.931358055, 0.931986998, 0.93260661, 0.933219037, 0.933826148, 0.934429516, 0.93503041, 0.935629802, 0.936228384, 0.936826604, 0.937424708, 0.937799314, 0.941387815, 0.944976316, 0.948564817, 0.952153318, 0.955143736, 0.958732237, 0.962320738, 0.965909239, 0.96949774, 0.973086241, 0.976674743, 0.980263244, 0.983851745, 0.987440246, 0.991028747, 0.994617248, 0.996411499, 0.997009582, 0.997607666, 0.998205749, 0.998803833, 0.999401917, 1, 1, 1, 1], degree=3))
        make_face()
    extrude(amount=BOSS_EXTRUDE1_DEPTH)

    # Sketch2 → Boss-Extrude2 (add, two sides: drawn at the far end of the back side and taken through both)
    with BuildSketch(Plane.XY.offset(25.4).offset(-BOSS_EXTRUDE2_DEPTH_BACK)):
        Circle(SKETCH2_R)
    extrude(amount=BOSS_EXTRUDE2_DEPTH + BOSS_EXTRUDE2_DEPTH_BACK)

    # Sketch3 → Boss-Extrude3 (add)
    with BuildSketch(Plane(origin=(0, 0, 0), x_dir=(-1, 0, 0), z_dir=(0, 0, -1))):
        Circle(SKETCH3_R)
    extrude(amount=BOSS_EXTRUDE3_DEPTH)

    # Fillet1
    fillet1_edges = [part.edges().sort_by_distance(p)[0] for p in [
        (8.89, 0, 0),
    ]]
    fillet(fillet1_edges, radius=FILLET1_R)

    # Fillet2
    fillet2_edges = [part.edges().sort_by_distance(p)[0] for p in [
        (8.89, 0, -12.7),
    ]]
    fillet(fillet2_edges, radius=FILLET2_R)

    # Fillet3
    fillet3_edges = [part.edges().sort_by_distance(p)[0] for p in [
        (-3.81, 0, 25.4),
    ]]
    fillet(fillet3_edges, radius=FILLET3_R)


solid = part.part
